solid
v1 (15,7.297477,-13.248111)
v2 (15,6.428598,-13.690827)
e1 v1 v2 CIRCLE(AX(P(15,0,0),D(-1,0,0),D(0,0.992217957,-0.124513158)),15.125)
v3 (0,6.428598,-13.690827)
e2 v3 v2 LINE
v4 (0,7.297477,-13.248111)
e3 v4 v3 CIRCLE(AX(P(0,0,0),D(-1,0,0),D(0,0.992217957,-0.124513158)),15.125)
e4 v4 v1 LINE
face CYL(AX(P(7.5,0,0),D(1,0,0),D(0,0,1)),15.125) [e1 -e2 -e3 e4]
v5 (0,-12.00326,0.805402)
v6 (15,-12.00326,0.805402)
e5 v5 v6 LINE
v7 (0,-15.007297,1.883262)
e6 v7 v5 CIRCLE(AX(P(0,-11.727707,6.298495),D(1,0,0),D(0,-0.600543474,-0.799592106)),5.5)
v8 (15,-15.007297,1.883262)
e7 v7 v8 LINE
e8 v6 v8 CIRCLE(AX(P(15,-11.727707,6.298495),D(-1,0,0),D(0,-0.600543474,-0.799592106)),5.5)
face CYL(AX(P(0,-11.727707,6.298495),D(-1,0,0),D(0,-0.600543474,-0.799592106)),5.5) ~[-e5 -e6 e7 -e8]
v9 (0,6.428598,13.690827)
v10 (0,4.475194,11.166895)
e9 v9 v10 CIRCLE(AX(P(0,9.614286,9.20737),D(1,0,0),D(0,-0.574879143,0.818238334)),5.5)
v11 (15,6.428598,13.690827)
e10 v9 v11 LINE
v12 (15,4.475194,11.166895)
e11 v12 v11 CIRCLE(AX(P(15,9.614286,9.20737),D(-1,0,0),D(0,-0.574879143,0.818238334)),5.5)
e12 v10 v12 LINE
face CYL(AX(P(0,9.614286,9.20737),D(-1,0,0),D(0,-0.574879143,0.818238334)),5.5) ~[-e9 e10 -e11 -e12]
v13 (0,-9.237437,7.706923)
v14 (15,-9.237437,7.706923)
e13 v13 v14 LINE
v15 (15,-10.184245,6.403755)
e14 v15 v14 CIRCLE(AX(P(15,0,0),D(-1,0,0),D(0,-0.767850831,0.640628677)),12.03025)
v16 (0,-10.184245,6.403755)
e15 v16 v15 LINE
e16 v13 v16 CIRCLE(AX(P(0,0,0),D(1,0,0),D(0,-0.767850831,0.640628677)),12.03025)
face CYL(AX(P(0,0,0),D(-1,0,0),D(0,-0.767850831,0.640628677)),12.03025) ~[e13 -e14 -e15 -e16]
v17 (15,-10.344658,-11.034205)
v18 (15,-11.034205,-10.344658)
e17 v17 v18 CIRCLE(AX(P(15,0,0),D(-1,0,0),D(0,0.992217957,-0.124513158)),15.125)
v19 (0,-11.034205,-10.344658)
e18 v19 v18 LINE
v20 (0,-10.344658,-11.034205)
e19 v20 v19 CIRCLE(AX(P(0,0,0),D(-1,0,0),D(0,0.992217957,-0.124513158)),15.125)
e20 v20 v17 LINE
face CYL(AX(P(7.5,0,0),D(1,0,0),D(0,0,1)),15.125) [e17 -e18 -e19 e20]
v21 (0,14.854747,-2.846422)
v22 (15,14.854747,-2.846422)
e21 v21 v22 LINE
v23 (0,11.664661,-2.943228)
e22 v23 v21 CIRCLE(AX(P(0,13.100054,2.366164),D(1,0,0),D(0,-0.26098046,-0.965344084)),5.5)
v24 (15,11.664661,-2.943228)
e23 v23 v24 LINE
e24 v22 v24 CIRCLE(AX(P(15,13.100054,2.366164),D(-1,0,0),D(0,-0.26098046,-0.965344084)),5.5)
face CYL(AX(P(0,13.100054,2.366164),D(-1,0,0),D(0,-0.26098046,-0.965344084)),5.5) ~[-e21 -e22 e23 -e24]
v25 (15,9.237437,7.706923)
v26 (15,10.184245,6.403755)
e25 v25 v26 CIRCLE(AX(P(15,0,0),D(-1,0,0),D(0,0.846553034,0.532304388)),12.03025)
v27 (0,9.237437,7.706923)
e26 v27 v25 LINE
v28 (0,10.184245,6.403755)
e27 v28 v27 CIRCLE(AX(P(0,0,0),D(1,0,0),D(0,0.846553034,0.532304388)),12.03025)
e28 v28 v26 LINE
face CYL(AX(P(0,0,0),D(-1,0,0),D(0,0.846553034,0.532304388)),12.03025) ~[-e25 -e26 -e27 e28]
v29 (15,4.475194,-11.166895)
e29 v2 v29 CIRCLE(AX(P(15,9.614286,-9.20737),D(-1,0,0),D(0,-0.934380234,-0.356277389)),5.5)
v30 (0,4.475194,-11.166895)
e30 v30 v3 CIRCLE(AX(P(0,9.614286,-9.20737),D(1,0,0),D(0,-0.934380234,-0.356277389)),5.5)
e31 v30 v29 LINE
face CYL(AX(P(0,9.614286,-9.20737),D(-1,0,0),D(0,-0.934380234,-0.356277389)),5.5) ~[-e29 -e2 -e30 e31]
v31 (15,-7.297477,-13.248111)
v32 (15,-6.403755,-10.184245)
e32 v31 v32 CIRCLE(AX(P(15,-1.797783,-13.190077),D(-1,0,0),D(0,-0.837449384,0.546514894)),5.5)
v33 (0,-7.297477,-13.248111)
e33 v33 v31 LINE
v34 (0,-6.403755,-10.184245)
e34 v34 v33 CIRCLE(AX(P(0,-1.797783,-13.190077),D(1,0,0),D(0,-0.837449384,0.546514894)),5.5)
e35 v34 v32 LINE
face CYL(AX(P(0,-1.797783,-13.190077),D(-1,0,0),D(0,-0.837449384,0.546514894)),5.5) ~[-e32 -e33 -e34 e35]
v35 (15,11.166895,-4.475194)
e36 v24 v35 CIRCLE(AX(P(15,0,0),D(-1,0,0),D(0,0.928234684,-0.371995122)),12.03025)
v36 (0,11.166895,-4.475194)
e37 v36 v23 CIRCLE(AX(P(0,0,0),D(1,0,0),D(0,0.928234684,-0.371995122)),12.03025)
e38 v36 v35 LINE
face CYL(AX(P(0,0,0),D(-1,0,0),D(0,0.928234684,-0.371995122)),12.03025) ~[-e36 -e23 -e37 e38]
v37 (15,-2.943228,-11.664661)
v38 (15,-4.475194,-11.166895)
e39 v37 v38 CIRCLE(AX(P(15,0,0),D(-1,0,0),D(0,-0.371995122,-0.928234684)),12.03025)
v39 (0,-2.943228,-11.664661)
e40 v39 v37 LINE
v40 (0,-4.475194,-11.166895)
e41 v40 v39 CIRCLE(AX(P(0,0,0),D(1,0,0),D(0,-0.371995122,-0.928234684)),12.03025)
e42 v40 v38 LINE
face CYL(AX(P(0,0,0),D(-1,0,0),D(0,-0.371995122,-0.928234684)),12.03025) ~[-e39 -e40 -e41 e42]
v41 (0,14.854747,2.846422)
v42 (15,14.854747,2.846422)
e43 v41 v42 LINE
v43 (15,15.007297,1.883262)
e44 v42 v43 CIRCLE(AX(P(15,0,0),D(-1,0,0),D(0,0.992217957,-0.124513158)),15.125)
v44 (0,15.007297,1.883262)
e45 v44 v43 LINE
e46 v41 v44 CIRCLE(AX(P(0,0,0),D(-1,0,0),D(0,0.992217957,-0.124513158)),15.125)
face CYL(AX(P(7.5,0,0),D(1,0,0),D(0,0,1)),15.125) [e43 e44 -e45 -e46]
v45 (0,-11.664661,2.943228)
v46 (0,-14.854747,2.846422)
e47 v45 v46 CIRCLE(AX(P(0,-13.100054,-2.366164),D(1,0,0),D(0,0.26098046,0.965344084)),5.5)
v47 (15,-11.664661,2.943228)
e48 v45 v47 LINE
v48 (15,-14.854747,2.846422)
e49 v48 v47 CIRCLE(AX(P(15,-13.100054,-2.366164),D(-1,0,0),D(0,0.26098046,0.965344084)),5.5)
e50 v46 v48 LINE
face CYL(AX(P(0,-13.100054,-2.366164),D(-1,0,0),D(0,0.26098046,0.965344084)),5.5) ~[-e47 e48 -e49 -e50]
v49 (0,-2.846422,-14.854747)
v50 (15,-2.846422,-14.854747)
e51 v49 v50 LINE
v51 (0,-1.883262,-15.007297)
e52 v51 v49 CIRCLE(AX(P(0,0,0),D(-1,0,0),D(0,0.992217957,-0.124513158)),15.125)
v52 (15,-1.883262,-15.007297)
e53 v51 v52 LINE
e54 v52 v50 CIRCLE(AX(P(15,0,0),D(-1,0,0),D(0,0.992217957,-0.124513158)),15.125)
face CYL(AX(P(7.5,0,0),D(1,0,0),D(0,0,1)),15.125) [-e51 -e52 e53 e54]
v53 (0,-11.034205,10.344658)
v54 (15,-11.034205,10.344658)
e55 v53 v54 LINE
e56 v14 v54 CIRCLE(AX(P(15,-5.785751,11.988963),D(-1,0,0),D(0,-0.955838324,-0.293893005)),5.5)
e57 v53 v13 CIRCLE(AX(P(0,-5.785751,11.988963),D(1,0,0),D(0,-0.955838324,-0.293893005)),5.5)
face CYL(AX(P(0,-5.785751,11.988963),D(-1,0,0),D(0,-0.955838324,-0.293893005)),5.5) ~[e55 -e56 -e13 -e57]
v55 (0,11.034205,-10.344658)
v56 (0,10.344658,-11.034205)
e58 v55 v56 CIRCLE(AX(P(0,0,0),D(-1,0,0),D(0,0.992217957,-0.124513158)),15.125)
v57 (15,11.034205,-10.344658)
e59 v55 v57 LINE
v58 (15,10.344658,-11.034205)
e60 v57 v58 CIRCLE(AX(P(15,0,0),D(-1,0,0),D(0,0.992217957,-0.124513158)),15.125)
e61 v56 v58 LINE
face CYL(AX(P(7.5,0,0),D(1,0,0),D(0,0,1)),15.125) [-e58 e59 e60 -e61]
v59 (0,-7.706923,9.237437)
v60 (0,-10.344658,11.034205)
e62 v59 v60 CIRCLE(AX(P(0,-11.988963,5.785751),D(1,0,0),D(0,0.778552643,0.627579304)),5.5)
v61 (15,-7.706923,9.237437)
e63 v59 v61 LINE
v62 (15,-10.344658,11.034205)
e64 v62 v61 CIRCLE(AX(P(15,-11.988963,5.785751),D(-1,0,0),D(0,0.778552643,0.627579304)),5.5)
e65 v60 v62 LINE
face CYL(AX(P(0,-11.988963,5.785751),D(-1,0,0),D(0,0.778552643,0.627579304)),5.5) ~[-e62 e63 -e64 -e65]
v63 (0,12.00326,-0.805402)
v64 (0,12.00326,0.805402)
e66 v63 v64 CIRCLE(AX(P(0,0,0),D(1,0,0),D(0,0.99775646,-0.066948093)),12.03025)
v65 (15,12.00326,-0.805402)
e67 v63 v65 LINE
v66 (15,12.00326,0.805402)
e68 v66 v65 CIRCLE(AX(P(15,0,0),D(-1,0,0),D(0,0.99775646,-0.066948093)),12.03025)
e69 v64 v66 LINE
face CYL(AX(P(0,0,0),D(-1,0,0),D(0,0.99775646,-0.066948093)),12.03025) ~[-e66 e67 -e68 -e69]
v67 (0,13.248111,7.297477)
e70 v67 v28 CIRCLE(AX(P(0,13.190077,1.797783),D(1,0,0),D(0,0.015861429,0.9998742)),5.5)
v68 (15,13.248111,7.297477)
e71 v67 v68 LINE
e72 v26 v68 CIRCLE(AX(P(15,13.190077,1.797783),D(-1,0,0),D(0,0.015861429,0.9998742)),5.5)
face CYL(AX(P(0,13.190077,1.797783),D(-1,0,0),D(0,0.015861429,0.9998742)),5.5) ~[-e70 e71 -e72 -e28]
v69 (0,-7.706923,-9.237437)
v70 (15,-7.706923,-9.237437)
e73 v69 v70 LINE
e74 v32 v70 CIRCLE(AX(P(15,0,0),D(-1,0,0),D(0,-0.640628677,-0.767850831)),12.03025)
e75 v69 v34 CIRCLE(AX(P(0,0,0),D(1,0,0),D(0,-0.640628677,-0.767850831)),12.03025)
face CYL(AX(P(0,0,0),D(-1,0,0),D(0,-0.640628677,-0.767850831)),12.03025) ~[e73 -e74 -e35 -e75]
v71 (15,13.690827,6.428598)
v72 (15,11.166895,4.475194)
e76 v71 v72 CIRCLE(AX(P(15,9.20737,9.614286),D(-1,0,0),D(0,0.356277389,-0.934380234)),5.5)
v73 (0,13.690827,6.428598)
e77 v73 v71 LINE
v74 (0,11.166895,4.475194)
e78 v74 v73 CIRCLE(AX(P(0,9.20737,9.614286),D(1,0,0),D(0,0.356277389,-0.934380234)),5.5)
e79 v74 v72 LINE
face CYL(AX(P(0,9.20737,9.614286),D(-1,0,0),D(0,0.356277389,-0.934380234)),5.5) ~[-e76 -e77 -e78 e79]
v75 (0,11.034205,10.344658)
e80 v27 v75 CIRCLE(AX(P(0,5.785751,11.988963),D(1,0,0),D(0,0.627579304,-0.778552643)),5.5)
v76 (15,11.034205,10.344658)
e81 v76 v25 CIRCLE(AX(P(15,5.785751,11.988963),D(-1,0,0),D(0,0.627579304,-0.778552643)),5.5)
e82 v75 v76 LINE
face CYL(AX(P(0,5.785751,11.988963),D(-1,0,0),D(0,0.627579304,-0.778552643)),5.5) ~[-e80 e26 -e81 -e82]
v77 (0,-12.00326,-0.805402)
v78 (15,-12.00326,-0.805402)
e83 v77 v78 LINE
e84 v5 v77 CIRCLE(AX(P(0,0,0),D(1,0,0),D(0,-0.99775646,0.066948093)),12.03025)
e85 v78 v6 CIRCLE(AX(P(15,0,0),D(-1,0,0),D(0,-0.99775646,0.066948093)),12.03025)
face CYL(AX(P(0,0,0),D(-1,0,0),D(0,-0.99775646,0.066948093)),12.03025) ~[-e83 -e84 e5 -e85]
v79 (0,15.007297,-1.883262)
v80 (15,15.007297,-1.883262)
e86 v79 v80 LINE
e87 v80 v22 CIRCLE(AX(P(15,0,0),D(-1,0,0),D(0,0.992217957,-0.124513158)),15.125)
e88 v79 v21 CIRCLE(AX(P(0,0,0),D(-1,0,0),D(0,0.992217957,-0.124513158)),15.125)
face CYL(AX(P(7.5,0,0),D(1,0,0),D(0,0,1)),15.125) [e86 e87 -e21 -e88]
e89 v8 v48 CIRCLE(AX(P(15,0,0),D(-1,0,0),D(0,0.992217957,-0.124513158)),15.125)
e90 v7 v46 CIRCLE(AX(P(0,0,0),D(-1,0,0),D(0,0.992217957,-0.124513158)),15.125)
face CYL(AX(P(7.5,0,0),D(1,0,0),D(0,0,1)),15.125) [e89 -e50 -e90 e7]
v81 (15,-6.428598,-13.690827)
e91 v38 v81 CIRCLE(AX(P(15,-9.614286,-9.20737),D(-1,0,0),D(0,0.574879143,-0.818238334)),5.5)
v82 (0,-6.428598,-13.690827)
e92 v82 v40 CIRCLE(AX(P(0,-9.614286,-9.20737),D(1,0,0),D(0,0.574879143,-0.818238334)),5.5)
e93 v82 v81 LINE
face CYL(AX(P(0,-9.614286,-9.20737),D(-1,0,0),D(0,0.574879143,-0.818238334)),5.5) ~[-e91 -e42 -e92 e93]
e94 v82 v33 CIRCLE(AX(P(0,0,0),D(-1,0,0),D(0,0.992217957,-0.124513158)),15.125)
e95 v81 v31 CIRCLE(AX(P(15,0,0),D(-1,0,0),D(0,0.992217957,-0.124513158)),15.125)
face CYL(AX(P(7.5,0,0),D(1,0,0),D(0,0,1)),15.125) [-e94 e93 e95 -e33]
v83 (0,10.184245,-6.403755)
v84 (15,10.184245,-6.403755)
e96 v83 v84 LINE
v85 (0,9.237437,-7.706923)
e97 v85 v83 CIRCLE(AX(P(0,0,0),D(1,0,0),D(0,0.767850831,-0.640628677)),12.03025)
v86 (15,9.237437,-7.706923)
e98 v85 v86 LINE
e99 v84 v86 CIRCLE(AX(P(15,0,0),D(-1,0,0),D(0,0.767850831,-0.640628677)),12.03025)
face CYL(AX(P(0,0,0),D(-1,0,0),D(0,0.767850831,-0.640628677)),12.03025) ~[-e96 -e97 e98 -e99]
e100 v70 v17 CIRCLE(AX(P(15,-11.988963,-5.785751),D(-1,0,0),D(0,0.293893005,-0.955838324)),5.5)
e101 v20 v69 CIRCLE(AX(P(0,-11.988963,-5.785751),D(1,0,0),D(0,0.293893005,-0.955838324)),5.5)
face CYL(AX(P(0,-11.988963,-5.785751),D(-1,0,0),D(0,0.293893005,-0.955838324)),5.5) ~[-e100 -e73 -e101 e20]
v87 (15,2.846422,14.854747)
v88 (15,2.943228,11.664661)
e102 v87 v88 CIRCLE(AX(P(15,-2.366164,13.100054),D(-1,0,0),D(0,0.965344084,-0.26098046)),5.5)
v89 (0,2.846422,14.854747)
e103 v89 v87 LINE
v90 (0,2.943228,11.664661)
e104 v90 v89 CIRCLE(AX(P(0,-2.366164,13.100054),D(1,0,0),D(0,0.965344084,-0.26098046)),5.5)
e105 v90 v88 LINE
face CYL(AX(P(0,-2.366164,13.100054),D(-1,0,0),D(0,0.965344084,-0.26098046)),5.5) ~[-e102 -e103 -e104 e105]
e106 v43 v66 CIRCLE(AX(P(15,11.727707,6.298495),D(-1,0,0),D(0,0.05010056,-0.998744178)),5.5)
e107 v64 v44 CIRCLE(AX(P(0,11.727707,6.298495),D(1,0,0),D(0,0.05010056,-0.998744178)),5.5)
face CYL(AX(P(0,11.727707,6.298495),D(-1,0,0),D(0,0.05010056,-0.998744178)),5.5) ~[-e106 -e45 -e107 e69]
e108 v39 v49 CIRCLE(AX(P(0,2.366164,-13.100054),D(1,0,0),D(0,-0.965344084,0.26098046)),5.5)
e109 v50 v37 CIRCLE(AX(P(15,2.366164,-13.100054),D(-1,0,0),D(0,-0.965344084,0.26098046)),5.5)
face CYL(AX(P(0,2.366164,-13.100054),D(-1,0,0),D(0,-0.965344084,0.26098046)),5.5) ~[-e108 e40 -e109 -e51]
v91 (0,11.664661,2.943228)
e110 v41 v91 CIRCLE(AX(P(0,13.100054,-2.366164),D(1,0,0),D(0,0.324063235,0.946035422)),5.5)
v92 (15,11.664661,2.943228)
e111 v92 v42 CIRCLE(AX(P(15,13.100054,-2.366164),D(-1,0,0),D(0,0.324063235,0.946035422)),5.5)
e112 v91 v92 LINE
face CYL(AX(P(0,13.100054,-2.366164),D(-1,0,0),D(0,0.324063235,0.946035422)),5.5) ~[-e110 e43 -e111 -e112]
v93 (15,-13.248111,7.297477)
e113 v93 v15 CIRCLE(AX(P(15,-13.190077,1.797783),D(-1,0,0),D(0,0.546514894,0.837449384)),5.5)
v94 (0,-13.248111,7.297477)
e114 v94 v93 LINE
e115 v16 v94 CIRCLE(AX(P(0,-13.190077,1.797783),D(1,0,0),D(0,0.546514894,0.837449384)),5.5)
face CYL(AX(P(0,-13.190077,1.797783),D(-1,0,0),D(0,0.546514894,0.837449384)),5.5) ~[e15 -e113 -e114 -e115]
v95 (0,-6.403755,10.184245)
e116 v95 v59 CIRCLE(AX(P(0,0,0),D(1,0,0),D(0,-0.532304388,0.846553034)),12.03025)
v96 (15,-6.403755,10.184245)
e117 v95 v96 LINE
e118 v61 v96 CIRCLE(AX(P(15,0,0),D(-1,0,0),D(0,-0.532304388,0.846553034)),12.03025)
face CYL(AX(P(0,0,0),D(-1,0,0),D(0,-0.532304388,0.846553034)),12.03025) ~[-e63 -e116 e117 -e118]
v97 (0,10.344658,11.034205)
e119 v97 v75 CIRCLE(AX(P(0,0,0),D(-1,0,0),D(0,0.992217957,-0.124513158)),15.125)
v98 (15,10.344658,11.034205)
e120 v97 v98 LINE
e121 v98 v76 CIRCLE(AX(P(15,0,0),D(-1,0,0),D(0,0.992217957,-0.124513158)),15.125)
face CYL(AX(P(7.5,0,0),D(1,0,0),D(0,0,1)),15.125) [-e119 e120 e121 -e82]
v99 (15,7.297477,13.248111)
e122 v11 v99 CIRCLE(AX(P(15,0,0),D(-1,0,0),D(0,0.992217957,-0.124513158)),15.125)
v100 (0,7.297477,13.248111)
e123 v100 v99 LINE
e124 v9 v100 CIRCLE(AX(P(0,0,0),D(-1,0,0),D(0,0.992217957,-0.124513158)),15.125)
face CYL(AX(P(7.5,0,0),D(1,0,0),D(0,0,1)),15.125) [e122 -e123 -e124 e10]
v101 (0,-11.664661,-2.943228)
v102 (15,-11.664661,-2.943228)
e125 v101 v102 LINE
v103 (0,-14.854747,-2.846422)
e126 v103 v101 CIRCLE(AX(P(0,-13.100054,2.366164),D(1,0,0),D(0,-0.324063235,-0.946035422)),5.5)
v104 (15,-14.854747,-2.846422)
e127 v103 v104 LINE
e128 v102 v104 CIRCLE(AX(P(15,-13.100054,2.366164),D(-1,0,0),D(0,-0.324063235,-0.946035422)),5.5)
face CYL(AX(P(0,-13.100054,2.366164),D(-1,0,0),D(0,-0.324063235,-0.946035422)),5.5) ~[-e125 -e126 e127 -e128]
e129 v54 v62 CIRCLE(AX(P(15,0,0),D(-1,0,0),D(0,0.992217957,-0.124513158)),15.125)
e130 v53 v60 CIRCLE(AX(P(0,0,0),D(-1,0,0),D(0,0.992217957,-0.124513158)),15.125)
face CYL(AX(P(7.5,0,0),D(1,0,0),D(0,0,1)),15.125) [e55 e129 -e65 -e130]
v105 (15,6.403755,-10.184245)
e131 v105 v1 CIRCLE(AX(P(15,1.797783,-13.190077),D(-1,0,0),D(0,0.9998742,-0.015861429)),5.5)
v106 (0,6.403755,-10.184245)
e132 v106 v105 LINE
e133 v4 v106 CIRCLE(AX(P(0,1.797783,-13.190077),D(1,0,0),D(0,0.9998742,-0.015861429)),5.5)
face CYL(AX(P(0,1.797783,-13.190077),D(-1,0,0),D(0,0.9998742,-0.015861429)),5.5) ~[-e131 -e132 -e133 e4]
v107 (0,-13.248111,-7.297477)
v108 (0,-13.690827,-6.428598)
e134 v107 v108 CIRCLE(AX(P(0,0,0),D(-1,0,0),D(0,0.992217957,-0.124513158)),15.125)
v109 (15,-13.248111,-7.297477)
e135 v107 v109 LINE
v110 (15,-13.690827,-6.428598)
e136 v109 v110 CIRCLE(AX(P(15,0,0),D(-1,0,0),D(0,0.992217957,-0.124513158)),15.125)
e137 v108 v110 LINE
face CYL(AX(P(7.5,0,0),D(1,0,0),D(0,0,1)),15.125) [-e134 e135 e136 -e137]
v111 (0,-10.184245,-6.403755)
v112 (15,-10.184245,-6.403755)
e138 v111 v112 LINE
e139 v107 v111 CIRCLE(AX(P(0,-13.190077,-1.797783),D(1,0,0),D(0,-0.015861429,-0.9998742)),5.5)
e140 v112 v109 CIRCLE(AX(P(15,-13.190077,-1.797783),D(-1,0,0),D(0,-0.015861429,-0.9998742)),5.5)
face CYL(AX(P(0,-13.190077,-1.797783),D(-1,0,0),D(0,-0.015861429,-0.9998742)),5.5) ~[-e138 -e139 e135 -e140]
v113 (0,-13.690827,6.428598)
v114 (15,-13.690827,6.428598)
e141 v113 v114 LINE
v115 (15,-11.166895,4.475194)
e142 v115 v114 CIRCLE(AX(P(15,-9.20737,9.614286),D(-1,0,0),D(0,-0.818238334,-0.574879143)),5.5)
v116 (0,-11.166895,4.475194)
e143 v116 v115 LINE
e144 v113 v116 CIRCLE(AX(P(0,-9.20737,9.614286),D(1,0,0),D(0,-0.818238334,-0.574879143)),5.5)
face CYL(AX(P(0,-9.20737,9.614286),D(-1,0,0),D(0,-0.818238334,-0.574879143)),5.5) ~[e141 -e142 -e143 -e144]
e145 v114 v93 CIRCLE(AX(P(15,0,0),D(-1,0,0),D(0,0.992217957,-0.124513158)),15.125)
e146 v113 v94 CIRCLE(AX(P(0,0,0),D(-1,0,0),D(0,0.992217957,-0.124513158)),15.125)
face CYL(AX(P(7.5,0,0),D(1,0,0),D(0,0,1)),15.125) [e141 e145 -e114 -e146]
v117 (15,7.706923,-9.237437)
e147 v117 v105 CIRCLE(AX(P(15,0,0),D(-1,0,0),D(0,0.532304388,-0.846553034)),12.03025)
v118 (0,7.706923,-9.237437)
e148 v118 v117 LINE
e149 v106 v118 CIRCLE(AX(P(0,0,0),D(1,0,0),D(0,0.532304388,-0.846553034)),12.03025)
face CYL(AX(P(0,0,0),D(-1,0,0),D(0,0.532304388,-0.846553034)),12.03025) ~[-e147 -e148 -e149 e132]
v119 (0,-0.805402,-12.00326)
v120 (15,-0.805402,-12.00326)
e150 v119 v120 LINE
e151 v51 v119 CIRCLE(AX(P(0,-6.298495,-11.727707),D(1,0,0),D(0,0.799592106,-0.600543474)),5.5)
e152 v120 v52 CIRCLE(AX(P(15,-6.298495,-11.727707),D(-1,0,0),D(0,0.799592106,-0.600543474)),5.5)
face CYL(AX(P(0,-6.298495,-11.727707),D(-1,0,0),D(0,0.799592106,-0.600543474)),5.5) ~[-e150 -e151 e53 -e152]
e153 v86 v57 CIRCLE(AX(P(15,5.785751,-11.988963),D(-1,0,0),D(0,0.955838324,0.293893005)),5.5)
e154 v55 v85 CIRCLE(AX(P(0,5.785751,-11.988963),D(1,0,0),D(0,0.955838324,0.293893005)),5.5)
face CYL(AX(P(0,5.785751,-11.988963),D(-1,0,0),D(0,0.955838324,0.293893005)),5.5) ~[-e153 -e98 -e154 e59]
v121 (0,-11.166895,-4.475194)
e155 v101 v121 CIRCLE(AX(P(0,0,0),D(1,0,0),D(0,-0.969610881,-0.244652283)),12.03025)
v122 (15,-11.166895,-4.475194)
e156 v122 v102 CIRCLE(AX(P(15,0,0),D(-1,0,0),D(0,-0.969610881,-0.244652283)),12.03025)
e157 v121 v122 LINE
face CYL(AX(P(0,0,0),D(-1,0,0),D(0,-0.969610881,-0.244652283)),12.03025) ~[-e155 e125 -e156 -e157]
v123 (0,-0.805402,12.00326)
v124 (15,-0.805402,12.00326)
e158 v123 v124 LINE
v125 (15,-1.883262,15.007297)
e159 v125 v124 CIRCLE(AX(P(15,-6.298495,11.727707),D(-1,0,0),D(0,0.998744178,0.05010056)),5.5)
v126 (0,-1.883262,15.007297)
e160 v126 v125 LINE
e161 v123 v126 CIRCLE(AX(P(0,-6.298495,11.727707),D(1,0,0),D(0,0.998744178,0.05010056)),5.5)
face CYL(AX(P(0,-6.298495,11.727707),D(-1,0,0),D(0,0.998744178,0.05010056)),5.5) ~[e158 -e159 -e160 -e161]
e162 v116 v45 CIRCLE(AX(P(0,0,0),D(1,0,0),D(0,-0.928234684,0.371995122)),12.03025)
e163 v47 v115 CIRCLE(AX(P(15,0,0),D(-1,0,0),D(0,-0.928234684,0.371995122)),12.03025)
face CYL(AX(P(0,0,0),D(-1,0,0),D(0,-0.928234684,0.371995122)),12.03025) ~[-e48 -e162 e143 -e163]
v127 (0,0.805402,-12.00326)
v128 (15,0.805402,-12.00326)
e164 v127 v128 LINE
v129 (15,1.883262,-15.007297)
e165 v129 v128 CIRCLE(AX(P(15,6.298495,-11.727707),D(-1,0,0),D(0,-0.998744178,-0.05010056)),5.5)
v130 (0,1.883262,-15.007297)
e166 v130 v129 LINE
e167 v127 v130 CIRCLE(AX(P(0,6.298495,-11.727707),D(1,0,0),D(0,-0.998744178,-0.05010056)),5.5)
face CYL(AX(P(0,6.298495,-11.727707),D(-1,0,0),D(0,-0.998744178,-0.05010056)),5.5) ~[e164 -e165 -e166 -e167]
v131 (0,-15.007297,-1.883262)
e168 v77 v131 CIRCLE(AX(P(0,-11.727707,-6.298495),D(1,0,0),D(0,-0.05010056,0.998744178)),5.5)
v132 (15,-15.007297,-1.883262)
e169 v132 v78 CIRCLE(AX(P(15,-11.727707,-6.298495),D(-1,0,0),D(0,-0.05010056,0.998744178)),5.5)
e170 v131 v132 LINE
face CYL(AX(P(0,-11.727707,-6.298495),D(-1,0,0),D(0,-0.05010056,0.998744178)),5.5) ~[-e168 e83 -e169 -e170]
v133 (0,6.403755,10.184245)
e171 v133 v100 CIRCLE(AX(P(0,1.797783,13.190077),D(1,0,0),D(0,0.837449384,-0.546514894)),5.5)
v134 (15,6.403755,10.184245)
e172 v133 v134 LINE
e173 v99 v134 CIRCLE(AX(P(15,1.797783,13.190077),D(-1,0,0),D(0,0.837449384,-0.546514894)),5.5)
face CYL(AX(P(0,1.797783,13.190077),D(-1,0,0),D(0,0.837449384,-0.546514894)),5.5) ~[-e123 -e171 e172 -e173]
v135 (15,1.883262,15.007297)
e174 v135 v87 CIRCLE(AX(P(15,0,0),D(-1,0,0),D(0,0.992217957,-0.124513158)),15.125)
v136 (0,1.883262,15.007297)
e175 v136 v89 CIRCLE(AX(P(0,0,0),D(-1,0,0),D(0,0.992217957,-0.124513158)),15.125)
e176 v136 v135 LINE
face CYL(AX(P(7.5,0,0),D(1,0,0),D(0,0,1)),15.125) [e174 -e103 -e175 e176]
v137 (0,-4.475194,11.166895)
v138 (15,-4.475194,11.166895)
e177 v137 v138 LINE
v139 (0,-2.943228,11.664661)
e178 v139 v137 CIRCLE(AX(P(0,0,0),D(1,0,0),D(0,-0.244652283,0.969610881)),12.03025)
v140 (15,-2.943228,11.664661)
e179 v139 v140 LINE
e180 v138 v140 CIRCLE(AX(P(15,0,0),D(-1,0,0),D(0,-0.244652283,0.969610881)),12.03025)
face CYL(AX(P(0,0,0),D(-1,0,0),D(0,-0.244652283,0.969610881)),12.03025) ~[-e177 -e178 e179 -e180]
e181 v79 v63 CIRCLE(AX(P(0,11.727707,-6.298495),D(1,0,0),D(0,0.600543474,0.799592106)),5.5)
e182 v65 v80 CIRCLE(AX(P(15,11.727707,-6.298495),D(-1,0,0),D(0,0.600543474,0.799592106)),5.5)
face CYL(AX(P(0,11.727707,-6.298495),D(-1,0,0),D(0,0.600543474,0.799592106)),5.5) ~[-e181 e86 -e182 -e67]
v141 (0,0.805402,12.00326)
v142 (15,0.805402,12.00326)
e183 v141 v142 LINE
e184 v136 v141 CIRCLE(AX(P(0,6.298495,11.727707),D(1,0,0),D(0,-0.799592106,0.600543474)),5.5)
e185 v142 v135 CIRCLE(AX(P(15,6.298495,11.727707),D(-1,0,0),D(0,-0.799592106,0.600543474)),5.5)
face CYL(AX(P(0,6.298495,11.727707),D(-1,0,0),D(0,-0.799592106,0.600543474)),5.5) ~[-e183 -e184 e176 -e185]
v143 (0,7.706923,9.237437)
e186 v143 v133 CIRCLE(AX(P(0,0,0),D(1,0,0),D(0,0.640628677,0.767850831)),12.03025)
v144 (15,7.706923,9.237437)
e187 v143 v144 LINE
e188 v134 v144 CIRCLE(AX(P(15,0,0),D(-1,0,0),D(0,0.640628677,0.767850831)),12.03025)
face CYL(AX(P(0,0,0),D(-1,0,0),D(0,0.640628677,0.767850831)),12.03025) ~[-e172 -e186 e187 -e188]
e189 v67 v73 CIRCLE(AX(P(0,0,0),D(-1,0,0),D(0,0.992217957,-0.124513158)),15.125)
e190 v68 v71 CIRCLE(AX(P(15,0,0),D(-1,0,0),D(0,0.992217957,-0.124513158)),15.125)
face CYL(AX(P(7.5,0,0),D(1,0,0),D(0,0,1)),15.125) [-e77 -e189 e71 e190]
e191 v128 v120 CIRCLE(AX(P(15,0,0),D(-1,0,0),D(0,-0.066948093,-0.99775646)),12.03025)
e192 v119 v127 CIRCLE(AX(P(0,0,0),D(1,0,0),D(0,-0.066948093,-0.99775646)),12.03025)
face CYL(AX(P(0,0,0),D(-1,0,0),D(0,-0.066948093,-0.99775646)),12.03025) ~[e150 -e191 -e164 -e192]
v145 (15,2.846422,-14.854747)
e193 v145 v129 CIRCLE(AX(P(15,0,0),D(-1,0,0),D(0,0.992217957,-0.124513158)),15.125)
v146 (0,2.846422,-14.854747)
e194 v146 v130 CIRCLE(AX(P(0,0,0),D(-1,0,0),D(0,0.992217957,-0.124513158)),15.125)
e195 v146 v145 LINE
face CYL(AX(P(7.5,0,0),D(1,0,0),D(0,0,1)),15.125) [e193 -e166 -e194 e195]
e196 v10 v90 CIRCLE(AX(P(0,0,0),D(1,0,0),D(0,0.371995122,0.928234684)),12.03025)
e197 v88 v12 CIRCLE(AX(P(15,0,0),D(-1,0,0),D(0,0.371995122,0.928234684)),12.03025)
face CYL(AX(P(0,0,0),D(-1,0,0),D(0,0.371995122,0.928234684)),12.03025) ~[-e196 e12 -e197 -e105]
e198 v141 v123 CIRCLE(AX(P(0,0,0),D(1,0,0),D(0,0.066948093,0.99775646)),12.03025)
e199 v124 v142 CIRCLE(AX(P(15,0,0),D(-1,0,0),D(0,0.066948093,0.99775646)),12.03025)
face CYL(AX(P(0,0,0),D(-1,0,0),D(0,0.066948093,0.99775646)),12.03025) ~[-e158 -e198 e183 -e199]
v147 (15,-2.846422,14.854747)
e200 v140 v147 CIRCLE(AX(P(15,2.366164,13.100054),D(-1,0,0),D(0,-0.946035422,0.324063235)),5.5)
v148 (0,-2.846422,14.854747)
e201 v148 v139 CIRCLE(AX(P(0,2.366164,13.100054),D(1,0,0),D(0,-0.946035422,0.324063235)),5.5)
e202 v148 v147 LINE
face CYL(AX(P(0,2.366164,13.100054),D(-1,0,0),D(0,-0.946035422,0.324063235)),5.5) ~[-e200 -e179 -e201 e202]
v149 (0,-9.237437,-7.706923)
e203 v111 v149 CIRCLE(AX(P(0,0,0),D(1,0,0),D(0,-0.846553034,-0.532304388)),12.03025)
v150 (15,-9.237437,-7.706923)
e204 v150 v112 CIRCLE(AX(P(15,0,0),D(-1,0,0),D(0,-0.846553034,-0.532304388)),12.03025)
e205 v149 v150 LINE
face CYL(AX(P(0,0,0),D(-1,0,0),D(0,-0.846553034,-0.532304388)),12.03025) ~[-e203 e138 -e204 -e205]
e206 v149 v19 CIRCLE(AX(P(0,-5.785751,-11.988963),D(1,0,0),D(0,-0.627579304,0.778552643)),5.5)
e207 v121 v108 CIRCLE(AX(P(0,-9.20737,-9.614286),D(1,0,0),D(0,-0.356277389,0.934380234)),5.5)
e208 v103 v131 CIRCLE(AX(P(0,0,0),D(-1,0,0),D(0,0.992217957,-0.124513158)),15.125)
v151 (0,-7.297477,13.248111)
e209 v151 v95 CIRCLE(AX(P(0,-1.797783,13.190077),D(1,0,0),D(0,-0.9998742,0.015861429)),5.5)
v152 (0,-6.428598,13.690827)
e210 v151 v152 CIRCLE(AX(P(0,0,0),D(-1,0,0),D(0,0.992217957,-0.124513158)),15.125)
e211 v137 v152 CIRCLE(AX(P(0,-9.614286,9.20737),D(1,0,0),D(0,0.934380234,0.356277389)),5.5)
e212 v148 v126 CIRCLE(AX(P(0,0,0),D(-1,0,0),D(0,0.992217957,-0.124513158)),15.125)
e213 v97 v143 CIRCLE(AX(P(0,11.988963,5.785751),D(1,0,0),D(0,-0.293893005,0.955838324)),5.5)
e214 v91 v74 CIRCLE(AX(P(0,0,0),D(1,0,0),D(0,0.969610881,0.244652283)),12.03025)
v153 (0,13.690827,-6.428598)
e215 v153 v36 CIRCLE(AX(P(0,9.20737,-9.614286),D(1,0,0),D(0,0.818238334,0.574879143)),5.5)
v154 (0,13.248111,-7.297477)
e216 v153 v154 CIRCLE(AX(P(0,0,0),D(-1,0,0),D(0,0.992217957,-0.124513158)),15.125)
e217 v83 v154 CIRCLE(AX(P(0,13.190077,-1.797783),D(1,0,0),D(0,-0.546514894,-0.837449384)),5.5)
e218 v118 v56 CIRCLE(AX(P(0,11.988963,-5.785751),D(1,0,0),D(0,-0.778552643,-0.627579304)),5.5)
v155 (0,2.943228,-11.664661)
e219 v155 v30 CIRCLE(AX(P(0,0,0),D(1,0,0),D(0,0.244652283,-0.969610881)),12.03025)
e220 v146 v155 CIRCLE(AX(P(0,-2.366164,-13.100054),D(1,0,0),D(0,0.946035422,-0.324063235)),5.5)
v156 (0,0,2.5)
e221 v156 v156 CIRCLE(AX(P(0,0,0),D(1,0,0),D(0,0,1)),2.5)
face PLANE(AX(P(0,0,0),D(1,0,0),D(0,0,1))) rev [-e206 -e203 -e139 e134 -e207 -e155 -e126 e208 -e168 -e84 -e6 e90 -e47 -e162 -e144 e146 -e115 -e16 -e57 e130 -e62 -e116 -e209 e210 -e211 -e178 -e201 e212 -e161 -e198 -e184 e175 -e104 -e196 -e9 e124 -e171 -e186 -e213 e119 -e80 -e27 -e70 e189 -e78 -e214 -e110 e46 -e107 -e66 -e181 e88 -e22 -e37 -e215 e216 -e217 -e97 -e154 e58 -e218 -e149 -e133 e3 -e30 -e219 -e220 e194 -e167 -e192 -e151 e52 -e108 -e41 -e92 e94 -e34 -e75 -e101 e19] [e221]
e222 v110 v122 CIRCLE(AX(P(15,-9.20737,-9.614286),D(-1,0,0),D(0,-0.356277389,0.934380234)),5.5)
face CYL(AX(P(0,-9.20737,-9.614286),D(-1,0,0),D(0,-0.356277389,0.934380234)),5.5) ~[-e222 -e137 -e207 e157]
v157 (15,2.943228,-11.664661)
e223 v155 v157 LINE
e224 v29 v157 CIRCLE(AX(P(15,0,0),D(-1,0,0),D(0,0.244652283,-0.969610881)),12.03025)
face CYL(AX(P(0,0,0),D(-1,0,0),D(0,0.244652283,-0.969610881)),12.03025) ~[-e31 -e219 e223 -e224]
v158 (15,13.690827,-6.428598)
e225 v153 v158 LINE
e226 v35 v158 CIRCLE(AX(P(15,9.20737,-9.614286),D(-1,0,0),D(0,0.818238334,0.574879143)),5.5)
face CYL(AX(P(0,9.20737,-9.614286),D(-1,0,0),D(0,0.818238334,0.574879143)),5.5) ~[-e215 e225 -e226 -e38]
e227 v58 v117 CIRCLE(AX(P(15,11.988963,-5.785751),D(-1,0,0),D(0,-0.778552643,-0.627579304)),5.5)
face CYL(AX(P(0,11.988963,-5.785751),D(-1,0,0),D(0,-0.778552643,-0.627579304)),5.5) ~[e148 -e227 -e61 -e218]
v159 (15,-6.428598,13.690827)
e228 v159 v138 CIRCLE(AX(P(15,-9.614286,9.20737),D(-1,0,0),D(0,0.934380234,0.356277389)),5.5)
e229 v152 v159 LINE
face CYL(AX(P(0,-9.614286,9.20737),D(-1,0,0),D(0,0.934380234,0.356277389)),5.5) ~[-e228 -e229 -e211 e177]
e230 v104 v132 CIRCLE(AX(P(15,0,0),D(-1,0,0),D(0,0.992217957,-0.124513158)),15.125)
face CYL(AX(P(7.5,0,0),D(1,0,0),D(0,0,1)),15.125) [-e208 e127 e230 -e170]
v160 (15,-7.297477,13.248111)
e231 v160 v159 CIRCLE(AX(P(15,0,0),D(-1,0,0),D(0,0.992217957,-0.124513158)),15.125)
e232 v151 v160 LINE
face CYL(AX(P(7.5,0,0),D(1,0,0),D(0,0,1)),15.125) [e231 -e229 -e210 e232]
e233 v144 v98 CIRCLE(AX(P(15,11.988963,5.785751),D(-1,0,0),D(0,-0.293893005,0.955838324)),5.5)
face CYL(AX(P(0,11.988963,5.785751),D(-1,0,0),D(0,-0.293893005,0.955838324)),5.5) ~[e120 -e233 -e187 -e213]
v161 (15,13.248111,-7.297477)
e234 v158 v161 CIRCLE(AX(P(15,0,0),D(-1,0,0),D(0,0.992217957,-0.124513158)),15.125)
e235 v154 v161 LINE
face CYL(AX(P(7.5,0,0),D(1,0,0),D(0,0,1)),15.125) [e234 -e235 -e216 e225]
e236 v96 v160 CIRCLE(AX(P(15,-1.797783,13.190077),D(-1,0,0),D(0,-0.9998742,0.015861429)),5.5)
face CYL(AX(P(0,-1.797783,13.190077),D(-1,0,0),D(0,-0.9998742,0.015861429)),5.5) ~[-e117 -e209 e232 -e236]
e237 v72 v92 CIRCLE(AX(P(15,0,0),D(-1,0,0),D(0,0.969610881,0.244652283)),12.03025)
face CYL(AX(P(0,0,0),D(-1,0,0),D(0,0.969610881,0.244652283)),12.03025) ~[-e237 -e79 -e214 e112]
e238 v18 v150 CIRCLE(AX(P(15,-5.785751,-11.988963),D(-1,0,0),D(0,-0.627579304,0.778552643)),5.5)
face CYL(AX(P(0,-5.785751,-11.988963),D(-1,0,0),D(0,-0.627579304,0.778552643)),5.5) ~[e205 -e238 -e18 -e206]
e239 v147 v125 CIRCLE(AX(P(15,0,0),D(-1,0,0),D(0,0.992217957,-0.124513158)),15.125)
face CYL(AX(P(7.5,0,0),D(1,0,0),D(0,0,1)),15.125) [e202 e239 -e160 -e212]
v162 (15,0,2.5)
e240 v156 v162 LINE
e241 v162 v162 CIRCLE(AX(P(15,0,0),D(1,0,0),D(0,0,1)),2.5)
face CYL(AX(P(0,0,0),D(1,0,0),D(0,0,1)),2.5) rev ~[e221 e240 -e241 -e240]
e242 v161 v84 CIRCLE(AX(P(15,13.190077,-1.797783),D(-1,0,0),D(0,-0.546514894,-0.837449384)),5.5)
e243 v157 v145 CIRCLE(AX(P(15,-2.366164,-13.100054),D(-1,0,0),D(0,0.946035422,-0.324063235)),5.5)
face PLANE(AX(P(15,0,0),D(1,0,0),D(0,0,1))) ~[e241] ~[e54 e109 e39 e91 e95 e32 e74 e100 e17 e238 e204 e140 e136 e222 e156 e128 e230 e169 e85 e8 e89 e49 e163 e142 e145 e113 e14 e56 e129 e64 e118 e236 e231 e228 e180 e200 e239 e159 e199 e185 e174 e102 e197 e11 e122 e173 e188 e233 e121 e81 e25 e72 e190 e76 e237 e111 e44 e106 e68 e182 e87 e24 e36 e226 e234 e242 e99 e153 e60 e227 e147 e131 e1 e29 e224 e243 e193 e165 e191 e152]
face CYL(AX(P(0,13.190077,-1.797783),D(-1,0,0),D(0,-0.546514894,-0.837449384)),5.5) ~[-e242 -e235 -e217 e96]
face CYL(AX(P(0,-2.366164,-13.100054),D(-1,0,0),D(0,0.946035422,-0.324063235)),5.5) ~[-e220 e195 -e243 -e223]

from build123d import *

# Parameters (mm, degrees)
BASPROSKE_W     = 15
BASPROSKE_H     = 15.125
TOOTHCUT_DEPTH  = 27.125299041
TEETHCUTS_COUNT = 20
BORSKE_R        = 2.5
BORE_DEPTH      = 50.0000508


with BuildPart() as part:
    # BasProSke → Base-Revolve (revolve)
    with BuildSketch(Plane(origin=(0, 0, 0), x_dir=(1, 0, 0), z_dir=(0, 1, 0)), mode=Mode.PRIVATE) as base_revolve_sk:
        with Locations((7.5, 7.5625)):
            Rectangle(BASPROSKE_W, BASPROSKE_H)
    revolve(base_revolve_sk.sketch.rotate(Axis((-10, 0, 0), (1, 0, 0)), 180), axis=Axis((-10, 0, 0), (1, 0, 0)))

    # TooCutSke → ToothCut (cut, through all)
    with BuildSketch(Plane(origin=(0, 0, 0), x_dir=(0, 0, -1), z_dir=(1, 0, 0))):
        with BuildLine():
            ThreePointArc((0.805402304, 12.003259649), (0, 12.03025), (-0.805402304, 12.003259649))
            ThreePointArc((-0.805402304, 12.003259649), (-1.12659346, 13.598917809), (-1.900738704, 15.030695677))
            ThreePointArc((-1.900738704, 15.030695677), (0, 15.1504), (1.900738704, 15.030695677))
            ThreePointArc((1.900738704, 15.030695677), (1.12659346, 13.598917809), (0.805402304, 12.003259649))
        make_face()
    toothcut = extrude(amount=TOOTHCUT_DEPTH, mode=Mode.SUBTRACT)

    # TeethCuts: ToothCut ×20 about axis
    teethcuts_axis = Axis((0, 0, 0), (1, 0, 0))
    for i in range(1, TEETHCUTS_COUNT):
        add(toothcut.rotate(teethcuts_axis, i * 360 / TEETHCUTS_COUNT), mode=Mode.SUBTRACT)

    # BorSke → Bore (cut, symmetric)
    with BuildSketch(Plane(origin=(0, 0, 0), x_dir=(0, 0, -1), z_dir=(1, 0, 0))):
        with Locations(Location((0, 0, 0), (0, 0, 180))):
            Circle(BORSKE_R)
    extrude(amount=BORE_DEPTH, both=True, mode=Mode.SUBTRACT)


solid = part.part
